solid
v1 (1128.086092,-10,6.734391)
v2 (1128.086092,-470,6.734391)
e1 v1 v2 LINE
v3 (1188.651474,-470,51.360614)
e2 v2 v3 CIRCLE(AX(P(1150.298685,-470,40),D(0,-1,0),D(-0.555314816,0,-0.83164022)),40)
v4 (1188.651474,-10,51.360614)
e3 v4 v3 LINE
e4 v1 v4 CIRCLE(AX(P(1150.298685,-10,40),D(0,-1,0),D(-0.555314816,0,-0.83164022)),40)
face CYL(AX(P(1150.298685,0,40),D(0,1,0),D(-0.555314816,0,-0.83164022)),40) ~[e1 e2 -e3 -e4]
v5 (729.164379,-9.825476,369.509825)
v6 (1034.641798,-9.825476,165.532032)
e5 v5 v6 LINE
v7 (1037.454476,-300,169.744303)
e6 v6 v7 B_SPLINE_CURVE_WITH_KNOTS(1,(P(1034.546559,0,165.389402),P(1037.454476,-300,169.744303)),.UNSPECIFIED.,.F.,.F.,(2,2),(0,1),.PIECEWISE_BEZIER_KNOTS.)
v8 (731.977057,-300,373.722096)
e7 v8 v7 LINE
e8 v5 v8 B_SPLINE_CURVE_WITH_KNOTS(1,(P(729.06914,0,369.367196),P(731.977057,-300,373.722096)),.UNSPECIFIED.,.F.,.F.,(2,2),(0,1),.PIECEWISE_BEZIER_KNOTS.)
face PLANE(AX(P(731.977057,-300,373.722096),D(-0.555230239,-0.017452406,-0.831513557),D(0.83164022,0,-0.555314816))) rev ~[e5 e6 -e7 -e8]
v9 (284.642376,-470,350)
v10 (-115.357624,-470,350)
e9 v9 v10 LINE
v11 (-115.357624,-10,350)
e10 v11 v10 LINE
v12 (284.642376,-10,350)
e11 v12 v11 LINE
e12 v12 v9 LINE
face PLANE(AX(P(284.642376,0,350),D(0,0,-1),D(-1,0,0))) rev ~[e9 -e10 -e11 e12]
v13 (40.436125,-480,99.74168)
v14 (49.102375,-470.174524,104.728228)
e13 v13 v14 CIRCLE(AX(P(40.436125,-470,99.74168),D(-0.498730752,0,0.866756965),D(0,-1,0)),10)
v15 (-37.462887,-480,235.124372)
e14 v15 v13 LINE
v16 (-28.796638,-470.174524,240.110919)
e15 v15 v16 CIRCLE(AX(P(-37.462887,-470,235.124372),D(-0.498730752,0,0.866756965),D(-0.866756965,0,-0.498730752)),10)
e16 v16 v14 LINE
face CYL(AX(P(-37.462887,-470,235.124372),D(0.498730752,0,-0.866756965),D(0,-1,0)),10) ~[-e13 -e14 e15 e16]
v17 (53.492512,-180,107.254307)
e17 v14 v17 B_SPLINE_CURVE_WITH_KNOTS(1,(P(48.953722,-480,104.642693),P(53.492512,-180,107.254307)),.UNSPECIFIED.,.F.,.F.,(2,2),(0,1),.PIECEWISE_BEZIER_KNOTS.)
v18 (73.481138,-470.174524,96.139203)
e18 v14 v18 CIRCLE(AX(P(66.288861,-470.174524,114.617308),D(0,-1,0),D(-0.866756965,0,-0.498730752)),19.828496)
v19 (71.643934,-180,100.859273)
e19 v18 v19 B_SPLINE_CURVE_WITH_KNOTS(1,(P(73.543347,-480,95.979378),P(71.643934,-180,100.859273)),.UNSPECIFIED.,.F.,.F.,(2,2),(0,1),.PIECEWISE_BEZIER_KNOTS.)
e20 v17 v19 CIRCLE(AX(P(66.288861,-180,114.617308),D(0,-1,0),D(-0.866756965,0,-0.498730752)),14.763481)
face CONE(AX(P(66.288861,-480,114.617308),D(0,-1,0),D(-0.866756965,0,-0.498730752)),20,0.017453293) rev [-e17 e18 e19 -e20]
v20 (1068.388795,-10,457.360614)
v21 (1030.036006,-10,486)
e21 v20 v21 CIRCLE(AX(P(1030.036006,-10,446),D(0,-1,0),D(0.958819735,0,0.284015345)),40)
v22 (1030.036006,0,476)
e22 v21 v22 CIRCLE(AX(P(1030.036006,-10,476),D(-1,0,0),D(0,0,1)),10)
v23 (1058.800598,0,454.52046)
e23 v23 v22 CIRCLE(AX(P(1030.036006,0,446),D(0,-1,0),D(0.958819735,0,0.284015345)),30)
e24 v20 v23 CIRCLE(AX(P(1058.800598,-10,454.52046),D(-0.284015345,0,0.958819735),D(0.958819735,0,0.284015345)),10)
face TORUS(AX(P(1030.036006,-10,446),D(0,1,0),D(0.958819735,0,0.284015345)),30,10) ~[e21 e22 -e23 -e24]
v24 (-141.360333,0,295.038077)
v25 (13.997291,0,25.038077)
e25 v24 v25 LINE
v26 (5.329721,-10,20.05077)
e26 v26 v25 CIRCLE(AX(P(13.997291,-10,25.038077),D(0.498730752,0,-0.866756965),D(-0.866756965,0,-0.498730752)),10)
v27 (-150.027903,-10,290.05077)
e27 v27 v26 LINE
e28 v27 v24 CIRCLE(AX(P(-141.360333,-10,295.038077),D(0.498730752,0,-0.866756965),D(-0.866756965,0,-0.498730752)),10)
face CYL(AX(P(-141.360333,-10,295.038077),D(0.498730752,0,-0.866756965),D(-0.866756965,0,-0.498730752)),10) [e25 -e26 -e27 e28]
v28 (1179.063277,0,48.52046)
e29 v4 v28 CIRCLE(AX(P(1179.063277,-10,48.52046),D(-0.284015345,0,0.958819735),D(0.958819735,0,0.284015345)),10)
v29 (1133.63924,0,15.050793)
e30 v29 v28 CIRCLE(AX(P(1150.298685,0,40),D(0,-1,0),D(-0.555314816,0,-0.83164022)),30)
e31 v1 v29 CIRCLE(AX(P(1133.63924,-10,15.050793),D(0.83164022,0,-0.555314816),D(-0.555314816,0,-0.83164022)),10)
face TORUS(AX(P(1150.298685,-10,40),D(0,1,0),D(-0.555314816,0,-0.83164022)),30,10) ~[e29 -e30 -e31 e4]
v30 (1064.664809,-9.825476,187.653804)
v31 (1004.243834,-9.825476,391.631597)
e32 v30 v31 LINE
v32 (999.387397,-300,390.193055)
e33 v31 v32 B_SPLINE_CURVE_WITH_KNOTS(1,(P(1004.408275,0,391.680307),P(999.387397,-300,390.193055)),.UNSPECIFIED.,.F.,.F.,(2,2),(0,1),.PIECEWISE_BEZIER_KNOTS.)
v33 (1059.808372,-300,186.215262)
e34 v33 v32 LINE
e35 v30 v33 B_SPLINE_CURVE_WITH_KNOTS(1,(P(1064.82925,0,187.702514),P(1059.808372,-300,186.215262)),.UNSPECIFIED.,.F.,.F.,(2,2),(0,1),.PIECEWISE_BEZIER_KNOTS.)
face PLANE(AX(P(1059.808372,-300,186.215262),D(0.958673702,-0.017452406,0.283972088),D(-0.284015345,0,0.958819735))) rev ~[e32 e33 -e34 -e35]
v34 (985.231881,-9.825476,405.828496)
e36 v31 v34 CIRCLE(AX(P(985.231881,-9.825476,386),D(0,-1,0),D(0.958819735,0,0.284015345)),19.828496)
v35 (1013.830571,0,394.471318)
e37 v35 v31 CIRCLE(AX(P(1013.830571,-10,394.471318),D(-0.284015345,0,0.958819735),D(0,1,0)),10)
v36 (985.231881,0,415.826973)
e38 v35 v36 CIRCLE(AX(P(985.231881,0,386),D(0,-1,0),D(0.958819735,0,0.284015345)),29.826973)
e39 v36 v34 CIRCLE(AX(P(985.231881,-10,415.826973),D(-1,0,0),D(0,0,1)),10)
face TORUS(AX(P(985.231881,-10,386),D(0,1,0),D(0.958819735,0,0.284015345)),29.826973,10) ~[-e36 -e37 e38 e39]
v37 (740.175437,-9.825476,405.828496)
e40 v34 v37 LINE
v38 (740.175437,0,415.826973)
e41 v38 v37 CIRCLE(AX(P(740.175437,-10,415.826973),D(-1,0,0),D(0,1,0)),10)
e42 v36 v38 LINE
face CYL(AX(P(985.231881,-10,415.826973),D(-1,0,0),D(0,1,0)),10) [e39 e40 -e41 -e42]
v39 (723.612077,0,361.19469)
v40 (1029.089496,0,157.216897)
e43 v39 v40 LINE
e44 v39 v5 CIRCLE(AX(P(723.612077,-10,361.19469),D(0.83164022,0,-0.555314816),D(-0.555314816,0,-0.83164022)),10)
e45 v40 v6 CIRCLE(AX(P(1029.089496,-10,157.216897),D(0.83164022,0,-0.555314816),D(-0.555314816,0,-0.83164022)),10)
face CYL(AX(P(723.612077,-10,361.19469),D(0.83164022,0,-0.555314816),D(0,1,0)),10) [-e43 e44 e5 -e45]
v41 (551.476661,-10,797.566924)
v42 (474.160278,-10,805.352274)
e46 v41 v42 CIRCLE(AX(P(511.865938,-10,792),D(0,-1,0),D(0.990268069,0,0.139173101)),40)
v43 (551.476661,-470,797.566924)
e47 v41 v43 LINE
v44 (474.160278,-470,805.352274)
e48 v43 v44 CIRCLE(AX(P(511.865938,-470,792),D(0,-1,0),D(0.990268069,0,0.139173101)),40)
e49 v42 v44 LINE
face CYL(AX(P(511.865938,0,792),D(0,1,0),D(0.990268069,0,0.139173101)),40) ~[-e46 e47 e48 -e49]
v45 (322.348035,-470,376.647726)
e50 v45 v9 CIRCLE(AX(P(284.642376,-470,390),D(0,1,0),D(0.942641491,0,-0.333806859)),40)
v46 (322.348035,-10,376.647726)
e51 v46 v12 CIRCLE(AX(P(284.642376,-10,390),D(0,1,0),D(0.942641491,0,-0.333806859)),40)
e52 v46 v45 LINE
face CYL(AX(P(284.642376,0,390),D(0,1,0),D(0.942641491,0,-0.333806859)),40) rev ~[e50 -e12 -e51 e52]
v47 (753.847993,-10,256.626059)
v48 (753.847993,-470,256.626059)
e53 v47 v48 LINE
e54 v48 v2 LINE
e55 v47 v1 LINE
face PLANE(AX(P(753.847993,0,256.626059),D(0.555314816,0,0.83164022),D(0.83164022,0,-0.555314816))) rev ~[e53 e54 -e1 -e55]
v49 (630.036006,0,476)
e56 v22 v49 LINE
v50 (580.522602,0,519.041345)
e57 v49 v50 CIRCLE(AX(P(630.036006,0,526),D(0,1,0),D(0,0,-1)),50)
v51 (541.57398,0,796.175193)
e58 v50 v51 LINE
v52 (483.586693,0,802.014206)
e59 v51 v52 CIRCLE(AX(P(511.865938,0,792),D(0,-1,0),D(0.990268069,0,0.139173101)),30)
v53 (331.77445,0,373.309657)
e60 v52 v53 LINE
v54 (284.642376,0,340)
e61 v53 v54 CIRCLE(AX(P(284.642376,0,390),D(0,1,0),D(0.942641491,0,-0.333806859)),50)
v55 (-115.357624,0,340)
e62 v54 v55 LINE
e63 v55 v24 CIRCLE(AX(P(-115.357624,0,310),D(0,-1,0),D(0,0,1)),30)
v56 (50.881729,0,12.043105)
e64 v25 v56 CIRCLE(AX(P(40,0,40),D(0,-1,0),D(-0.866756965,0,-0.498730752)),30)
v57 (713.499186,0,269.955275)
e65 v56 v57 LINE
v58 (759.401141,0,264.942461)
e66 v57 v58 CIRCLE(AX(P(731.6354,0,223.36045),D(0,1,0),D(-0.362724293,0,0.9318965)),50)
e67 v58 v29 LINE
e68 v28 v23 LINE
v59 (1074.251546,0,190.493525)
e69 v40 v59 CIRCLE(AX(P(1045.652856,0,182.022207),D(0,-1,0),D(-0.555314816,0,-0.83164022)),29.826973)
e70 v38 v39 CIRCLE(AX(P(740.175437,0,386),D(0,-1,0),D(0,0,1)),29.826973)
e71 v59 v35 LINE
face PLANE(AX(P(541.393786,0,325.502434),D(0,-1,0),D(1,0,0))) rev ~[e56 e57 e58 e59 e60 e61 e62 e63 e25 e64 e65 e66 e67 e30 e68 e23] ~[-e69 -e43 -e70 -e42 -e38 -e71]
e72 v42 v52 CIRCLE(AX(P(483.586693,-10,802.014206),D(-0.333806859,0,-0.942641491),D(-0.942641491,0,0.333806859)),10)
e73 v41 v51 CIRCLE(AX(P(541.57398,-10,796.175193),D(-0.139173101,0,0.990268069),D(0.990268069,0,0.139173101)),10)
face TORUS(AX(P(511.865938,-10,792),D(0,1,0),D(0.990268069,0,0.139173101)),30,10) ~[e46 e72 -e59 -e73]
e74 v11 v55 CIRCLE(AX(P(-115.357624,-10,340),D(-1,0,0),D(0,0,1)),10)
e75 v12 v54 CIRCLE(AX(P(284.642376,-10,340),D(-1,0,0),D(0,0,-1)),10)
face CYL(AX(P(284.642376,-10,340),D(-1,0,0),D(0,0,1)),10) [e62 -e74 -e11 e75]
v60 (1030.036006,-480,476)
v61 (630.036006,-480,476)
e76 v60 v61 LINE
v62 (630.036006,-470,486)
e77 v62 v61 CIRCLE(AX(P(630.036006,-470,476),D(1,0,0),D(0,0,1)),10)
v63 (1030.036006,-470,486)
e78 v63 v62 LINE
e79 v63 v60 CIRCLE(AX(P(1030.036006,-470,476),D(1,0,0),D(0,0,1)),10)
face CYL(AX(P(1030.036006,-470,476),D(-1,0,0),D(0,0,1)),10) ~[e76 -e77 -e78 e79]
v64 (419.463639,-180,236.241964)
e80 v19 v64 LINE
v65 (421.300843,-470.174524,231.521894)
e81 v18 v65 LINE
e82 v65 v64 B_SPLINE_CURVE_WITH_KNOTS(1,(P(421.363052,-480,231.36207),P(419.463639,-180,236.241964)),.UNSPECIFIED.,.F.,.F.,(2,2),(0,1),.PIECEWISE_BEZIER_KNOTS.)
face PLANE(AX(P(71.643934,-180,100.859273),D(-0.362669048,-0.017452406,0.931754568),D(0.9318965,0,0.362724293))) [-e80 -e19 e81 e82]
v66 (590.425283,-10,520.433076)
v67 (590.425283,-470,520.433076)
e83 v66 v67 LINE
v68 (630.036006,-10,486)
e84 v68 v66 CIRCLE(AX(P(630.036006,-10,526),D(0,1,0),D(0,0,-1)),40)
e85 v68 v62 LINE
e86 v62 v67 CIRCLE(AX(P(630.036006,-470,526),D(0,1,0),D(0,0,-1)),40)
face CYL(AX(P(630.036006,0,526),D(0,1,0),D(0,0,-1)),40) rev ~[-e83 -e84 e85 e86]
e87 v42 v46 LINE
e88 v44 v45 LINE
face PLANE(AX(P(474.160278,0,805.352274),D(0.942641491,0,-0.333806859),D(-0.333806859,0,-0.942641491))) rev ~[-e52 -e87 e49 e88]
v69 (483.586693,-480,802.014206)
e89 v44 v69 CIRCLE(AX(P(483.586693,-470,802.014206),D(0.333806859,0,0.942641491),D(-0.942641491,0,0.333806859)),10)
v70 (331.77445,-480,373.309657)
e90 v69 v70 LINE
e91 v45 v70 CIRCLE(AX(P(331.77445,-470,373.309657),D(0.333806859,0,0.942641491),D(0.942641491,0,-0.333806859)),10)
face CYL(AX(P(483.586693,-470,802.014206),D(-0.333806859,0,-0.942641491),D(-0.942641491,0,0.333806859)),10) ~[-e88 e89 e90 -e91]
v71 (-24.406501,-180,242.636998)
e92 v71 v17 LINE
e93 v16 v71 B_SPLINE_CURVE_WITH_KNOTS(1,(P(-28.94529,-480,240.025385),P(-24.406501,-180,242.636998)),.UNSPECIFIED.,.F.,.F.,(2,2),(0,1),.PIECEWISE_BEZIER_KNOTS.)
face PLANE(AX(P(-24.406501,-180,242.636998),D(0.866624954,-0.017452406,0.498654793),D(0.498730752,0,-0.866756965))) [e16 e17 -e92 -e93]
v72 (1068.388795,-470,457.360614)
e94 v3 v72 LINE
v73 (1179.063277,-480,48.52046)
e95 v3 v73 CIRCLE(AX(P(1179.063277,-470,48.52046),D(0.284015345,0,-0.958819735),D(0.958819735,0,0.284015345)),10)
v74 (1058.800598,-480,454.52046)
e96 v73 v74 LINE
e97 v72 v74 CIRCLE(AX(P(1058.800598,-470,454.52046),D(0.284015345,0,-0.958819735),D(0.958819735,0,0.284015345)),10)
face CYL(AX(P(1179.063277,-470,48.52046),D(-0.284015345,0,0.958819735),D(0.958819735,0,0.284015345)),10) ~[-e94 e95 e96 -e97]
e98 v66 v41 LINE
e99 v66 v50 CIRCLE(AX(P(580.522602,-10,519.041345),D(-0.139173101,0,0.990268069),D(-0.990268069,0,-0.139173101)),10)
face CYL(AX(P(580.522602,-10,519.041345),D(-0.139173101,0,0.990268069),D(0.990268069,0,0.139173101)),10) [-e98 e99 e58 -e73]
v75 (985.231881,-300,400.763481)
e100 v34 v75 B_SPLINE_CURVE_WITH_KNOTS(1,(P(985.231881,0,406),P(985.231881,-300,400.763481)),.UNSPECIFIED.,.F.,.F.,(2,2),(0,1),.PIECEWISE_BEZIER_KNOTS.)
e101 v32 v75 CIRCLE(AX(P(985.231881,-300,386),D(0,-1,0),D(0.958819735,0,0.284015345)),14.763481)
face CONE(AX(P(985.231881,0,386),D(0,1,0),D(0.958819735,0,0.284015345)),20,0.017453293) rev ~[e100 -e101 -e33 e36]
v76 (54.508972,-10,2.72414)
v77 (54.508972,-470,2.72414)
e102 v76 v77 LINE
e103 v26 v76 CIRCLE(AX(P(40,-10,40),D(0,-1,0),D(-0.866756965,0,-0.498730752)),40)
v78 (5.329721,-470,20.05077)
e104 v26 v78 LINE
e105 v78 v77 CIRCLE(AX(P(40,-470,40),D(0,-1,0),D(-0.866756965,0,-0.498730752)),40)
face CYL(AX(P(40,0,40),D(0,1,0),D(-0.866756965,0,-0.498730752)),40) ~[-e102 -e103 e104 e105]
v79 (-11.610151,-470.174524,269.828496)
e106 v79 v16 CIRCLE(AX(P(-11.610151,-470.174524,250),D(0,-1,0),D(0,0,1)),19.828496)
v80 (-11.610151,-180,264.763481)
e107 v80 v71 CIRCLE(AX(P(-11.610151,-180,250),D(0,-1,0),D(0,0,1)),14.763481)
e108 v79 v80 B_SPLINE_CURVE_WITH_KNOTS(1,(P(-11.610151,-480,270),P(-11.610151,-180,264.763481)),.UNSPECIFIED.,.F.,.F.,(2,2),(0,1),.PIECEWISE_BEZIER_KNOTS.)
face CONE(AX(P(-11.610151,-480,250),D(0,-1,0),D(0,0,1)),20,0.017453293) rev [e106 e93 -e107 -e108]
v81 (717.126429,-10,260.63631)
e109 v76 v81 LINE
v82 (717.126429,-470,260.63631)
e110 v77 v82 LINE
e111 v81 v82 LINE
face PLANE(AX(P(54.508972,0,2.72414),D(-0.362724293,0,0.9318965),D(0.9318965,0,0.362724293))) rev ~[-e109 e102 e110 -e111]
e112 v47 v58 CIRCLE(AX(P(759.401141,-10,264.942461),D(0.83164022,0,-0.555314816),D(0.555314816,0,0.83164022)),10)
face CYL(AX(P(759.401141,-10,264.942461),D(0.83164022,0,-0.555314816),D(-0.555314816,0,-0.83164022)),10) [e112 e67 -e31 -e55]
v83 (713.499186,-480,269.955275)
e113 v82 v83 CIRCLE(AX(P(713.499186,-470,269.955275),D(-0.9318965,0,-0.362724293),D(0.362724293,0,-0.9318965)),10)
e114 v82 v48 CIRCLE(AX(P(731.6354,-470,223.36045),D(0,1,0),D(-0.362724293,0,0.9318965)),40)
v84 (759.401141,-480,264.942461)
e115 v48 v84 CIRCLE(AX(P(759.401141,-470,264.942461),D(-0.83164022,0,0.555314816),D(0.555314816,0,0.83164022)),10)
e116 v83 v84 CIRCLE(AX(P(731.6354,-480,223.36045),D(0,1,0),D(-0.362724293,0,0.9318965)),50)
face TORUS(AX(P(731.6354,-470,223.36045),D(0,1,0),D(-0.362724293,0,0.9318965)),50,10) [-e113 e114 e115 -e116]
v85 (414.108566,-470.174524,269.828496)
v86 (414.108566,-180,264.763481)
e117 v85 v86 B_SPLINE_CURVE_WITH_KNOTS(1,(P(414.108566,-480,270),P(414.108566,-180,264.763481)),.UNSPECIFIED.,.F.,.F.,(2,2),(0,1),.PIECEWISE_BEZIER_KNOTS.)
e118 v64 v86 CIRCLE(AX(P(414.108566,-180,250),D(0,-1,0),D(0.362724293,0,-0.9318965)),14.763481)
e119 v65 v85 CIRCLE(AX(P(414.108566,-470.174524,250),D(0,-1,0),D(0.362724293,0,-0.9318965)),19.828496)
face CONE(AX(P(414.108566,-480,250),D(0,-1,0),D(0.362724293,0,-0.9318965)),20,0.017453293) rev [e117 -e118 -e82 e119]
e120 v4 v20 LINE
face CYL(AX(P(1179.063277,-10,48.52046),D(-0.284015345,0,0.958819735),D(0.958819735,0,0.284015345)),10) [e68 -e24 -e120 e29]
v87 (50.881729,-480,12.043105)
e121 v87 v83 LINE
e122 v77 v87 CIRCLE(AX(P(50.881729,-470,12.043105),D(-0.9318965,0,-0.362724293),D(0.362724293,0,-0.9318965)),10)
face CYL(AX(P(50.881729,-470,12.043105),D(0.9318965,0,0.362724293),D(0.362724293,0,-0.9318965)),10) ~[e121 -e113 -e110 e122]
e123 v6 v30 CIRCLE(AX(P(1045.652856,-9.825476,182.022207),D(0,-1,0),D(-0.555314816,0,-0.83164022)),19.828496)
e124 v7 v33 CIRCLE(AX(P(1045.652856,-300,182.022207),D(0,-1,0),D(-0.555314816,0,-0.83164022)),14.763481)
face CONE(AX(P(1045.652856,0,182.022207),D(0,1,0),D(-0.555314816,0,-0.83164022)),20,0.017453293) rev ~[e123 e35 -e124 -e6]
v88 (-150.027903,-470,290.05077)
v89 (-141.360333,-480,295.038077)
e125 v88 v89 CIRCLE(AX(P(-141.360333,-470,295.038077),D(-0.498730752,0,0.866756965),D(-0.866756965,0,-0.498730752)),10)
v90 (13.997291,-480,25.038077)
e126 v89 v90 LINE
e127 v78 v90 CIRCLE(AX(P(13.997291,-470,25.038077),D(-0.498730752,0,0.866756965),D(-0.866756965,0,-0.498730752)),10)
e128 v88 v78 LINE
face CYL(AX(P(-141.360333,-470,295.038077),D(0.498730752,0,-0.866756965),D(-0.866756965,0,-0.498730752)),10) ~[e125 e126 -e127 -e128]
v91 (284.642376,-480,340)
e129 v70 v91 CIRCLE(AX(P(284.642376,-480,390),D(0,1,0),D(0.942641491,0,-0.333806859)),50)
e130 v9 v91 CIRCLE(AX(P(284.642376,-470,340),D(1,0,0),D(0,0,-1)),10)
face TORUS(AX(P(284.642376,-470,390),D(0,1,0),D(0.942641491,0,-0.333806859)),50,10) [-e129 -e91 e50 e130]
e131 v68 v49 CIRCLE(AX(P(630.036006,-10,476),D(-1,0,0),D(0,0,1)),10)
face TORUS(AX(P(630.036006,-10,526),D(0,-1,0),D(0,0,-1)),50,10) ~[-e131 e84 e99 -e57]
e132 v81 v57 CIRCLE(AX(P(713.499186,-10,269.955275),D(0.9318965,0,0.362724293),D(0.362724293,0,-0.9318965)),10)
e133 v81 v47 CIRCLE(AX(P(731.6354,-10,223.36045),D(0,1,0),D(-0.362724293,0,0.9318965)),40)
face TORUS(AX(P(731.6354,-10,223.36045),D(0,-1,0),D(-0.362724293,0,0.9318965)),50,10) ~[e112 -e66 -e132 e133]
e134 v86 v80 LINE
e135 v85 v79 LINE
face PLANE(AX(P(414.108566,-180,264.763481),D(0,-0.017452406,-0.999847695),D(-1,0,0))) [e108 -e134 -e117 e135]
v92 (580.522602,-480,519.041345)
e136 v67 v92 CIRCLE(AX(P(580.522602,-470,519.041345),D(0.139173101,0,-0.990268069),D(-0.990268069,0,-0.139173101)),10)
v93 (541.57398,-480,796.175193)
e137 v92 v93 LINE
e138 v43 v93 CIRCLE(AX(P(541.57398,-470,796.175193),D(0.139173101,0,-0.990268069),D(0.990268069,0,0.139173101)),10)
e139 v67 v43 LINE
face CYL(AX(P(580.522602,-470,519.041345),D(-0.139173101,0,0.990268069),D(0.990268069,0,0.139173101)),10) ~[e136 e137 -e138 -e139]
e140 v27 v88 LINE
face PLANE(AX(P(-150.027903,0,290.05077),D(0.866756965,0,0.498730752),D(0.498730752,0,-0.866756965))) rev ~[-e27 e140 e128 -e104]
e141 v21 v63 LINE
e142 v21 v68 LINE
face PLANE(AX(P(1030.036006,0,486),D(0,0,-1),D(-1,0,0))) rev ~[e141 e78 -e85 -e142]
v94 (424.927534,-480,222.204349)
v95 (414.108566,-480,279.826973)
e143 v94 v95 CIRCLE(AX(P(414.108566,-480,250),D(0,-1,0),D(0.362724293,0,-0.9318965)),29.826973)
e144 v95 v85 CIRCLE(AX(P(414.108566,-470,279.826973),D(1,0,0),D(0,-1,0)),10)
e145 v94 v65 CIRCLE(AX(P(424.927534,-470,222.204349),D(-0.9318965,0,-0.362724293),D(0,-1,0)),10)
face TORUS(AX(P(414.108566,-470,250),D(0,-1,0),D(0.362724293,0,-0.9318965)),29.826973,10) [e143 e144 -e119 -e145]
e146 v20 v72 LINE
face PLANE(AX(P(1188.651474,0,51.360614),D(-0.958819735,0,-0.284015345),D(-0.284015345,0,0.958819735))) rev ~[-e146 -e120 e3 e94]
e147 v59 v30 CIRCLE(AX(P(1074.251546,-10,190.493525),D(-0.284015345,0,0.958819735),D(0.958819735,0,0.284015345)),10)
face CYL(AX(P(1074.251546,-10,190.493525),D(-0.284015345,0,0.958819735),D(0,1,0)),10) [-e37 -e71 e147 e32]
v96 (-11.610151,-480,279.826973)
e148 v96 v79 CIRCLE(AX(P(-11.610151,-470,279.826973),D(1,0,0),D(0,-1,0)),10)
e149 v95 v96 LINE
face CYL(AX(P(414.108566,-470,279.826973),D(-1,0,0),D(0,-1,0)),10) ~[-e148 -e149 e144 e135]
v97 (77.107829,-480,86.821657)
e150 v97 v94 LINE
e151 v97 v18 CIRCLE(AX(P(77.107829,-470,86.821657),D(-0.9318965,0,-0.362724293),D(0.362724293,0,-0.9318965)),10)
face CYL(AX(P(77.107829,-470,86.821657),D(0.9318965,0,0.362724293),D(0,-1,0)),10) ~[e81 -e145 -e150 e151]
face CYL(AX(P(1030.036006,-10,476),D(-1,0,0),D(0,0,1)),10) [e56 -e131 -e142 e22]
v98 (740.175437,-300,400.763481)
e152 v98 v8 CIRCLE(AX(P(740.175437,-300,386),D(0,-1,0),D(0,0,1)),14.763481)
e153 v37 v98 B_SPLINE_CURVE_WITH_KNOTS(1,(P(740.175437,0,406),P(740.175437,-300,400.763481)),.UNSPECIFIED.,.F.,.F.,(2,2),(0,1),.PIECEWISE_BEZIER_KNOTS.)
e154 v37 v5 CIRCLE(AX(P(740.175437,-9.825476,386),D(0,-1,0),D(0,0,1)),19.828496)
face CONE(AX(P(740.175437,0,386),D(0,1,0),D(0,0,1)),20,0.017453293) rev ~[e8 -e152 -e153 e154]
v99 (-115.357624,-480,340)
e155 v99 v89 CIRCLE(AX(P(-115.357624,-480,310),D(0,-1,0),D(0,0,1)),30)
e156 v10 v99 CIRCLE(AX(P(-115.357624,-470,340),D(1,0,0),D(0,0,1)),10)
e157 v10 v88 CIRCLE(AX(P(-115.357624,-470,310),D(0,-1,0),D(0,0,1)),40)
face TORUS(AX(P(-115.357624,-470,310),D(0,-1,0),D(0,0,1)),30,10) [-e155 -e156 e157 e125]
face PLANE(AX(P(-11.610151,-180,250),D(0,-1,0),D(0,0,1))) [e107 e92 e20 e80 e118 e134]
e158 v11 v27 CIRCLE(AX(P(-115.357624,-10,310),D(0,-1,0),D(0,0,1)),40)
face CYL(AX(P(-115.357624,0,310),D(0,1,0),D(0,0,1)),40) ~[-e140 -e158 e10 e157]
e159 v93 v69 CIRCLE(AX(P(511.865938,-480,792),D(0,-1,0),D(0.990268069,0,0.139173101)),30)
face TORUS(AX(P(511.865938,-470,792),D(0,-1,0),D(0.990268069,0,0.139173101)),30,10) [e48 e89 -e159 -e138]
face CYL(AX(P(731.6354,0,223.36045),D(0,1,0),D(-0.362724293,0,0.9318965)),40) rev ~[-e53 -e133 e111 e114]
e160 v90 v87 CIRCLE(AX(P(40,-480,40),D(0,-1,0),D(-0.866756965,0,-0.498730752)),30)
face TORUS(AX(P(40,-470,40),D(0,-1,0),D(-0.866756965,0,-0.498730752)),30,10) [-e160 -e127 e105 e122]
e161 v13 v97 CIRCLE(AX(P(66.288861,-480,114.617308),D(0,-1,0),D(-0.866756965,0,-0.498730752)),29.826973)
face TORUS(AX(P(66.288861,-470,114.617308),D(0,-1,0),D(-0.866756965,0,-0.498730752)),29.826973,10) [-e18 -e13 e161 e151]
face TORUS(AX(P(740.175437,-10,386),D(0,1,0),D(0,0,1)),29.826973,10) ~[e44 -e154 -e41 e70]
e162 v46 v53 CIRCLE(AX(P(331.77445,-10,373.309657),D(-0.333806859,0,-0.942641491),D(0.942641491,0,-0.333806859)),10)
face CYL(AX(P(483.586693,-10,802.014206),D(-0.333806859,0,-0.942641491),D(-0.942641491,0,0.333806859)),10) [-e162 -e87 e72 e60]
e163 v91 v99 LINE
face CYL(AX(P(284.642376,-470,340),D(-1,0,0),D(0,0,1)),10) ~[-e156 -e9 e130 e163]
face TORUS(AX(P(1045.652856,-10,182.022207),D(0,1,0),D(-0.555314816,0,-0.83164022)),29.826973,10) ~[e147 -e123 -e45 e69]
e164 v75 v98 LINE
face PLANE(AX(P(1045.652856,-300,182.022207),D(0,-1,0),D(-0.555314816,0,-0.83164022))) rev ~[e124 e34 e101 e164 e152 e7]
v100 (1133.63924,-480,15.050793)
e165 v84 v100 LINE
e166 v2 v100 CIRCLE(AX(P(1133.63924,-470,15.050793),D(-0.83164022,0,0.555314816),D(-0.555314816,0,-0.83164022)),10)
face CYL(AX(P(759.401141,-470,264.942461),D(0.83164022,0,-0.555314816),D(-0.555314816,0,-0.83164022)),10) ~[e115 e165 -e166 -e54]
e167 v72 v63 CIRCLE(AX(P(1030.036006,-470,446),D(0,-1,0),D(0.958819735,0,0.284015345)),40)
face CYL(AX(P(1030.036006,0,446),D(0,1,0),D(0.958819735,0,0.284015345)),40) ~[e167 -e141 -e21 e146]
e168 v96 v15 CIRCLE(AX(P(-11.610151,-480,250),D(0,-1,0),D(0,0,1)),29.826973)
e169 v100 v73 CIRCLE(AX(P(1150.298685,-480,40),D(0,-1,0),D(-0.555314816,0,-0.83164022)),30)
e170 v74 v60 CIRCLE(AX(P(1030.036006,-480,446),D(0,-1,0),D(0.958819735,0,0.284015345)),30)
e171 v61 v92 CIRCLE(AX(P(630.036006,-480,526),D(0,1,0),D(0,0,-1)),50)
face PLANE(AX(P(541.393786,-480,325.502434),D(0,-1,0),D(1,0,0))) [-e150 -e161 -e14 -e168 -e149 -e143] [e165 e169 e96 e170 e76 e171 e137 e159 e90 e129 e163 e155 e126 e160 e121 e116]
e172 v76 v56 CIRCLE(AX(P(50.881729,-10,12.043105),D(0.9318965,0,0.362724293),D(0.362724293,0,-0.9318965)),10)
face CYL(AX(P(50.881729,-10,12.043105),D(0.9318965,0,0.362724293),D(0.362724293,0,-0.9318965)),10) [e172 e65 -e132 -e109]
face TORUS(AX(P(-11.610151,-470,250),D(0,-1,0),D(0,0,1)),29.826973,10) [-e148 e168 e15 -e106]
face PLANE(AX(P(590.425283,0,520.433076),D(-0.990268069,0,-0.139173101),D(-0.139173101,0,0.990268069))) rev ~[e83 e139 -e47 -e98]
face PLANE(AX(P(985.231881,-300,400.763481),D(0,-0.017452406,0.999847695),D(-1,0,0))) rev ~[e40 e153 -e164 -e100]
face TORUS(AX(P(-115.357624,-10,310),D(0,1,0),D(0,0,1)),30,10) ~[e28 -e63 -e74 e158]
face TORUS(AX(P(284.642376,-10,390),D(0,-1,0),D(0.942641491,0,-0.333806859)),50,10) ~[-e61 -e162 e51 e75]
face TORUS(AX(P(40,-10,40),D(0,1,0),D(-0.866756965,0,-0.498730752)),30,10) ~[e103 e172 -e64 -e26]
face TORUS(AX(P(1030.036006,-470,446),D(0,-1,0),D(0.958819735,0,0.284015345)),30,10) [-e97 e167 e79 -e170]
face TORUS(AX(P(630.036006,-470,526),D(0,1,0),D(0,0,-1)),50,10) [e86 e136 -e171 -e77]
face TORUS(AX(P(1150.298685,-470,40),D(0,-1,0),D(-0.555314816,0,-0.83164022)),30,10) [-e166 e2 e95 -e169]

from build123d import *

# Parameters (mm, degrees)
F2_DEPTH = 480
F4_DEPTH = 300
F4_TAPER = 1
F6_DEPTH = 300
F6_TAPER = 1
F7_R     = 10


with BuildPart() as f2:
    # F1 (on Front) → F2 (new body)
    with BuildSketch(Plane.XZ):
        with BuildLine():
            Line((284.6423756698, 350), (-115.3576243302, 350))
            ThreePointArc((-115.3576243302, 350), (-149.9839813655, 330.0253688721), (-150.0279029467, 290.0507699232))
            Line((-150.0279029467, 290.0507699232), (5.3297213835, 20.0507699232))
            ThreePointArc((5.3297213835, 20.0507699232), (26.708175432, 2.2729884611), (54.508971707, 2.724139983))
            Line((54.508971707, 2.724139983), (717.1264287478, 260.6363097458))
            ThreePointArc((717.1264287478, 260.6363097458), (735.9778620424, 263.1240389451), (753.8479931035, 256.6260585136))
            Line((753.8479931035, 256.6260585136), (1128.0860919321, 6.7343912152))
            ThreePointArc((1128.0860919321, 6.7343912152), (1174.0263356031, 7.7975377189), (1188.6514739756, 51.3606137882))
            Line((1188.6514739756, 51.3606137882), (1068.388795021, 457.3606137882))
            ThreePointArc((1068.388795021, 457.3606137882), (1053.9689896491, 478.0501525076), (1030.0360056263, 486))
            Line((1030.0360056263, 486), (630.0360056263, 486))
            ThreePointArc((630.0360056263, 486), (603.7936444666, 495.8116167911), (590.4252828766, 520.4330759616))
            Line((590.4252828766, 520.4330759616), (551.4766605436, 797.5669240384))
            ThreePointArc((551.4766605436, 797.5669240384), (515.8734602584, 831.79874073), (474.1602781502, 805.3522743694))
            Line((474.1602781502, 805.3522743694), (322.3480353135, 376.6477256306))
            ThreePointArc((322.3480353135, 376.6477256306), (307.7281832713, 357.3343377935), (284.6423756698, 350))
        make_face()
    extrude(amount=F2_DEPTH)

    # F3 (on face) → F4 (cut)
    with BuildSketch(Plane.XZ):
        with BuildLine():
            ThreePointArc((1034.5465592324, 165.3894024781), (1057.5166810679, 165.9209757299), (1064.8292502542, 187.7025137645))
            Line((1064.8292502542, 187.7025137645), (1004.4082752566, 391.6803068941))
            ThreePointArc((1004.4082752566, 391.6803068941), (997.1983725706, 402.0250762538), (985.2318805592, 406))
            Line((985.2318805592, 406), (740.1754367642, 406))
            ThreePointArc((740.1754367642, 406), (721.0357386495, 391.8027541802), (729.0691404398, 369.3671956076))
            Line((729.0691404398, 369.3671956076), (1034.5465592324, 165.3894024781))
        make_face()
    extrude(amount=F4_DEPTH, taper=F4_TAPER, mode=Mode.SUBTRACT)

    # F5 (on face) → F6 (cut)
    with BuildSketch(Plane.XZ.offset(480)):
        with BuildLine():
            Line((414.108566285, 270), (-11.6101510435, 270))
            ThreePointArc((-11.6101510435, 270), (-28.9233295612, 260.0126844361), (-28.9452903518, 240.0253849616))
            Line((-28.9452903518, 240.0253849616), (48.9537219951, 104.6426934179))
            ThreePointArc((48.9537219951, 104.6426934179), (59.6429490194, 95.7538026868), (73.5433471569, 95.9793784477))
            Line((73.5433471569, 95.9793784477), (421.3630521385, 231.3620699915))
            ThreePointArc((421.3630521385, 231.3620699915), (433.7650995522, 253.6906232421), (414.108566285, 270))
        make_face()
    extrude(amount=-F6_DEPTH, taper=F6_TAPER, mode=Mode.SUBTRACT)

    # F7
    f7_edges = [f2.edges().sort_by_distance(p)[0] for p in [
        (307.728183, -480, 357.334338),
        (398.254157, -480, 591),
        (84.642376, -480, 350),
        (515.87346, -480, 831.798741),
        (-149.983981, -480, 330.025369),
        (570.950972, -480, 659),
        (-72.349091, -480, 155.05077),
        (603.793644, -480, 495.811617),
        (26.708175, -480, 2.272988),
        (830.036006, -480, 486),
        (385.8177, -480, 131.680225),
        (1053.96899, -480, 478.050153),
        (735.977862, -480, 263.124039),
        (1128.520134, -480, 254.360614),
        (940.967043, -480, 131.680225),
        (1174.026336, -480, 7.797538),
        (201.249208, -480, 270),
        (-28.92333, -480, 260.012684),
        (10.004216, -480, 172.334039),
        (59.642949, -480, 95.753803),
        (247.4532, -480, 163.670724),
        (433.7651, -480, 253.690623),
        (307.728183, 0, 357.334338),
        (398.254157, 0, 591),
        (84.642376, 0, 350),
        (515.87346, 0, 831.798741),
        (-149.983981, 0, 330.025369),
        (570.950972, 0, 659),
        (-72.349091, 0, 155.05077),
        (603.793644, 0, 495.811617),
        (26.708175, 0, 2.272988),
        (830.036006, 0, 486),
        (385.8177, 0, 131.680225),
        (1053.96899, 0, 478.050153),
        (735.977862, 0, 263.124039),
        (1128.520134, 0, 254.360614),
        (940.967043, 0, 131.680225),
        (1174.026336, 0, 7.797538),
        (1057.516681, 0, 165.920976),
        (1034.618763, 0, 289.69141),
        (997.198373, 0, 402.025076),
        (862.703659, 0, 406),
        (721.035739, 0, 391.802754),
        (881.80785, 0, 267.378299),
    ]]
    fillet(f7_edges, radius=F7_R)


solid = f2.part
